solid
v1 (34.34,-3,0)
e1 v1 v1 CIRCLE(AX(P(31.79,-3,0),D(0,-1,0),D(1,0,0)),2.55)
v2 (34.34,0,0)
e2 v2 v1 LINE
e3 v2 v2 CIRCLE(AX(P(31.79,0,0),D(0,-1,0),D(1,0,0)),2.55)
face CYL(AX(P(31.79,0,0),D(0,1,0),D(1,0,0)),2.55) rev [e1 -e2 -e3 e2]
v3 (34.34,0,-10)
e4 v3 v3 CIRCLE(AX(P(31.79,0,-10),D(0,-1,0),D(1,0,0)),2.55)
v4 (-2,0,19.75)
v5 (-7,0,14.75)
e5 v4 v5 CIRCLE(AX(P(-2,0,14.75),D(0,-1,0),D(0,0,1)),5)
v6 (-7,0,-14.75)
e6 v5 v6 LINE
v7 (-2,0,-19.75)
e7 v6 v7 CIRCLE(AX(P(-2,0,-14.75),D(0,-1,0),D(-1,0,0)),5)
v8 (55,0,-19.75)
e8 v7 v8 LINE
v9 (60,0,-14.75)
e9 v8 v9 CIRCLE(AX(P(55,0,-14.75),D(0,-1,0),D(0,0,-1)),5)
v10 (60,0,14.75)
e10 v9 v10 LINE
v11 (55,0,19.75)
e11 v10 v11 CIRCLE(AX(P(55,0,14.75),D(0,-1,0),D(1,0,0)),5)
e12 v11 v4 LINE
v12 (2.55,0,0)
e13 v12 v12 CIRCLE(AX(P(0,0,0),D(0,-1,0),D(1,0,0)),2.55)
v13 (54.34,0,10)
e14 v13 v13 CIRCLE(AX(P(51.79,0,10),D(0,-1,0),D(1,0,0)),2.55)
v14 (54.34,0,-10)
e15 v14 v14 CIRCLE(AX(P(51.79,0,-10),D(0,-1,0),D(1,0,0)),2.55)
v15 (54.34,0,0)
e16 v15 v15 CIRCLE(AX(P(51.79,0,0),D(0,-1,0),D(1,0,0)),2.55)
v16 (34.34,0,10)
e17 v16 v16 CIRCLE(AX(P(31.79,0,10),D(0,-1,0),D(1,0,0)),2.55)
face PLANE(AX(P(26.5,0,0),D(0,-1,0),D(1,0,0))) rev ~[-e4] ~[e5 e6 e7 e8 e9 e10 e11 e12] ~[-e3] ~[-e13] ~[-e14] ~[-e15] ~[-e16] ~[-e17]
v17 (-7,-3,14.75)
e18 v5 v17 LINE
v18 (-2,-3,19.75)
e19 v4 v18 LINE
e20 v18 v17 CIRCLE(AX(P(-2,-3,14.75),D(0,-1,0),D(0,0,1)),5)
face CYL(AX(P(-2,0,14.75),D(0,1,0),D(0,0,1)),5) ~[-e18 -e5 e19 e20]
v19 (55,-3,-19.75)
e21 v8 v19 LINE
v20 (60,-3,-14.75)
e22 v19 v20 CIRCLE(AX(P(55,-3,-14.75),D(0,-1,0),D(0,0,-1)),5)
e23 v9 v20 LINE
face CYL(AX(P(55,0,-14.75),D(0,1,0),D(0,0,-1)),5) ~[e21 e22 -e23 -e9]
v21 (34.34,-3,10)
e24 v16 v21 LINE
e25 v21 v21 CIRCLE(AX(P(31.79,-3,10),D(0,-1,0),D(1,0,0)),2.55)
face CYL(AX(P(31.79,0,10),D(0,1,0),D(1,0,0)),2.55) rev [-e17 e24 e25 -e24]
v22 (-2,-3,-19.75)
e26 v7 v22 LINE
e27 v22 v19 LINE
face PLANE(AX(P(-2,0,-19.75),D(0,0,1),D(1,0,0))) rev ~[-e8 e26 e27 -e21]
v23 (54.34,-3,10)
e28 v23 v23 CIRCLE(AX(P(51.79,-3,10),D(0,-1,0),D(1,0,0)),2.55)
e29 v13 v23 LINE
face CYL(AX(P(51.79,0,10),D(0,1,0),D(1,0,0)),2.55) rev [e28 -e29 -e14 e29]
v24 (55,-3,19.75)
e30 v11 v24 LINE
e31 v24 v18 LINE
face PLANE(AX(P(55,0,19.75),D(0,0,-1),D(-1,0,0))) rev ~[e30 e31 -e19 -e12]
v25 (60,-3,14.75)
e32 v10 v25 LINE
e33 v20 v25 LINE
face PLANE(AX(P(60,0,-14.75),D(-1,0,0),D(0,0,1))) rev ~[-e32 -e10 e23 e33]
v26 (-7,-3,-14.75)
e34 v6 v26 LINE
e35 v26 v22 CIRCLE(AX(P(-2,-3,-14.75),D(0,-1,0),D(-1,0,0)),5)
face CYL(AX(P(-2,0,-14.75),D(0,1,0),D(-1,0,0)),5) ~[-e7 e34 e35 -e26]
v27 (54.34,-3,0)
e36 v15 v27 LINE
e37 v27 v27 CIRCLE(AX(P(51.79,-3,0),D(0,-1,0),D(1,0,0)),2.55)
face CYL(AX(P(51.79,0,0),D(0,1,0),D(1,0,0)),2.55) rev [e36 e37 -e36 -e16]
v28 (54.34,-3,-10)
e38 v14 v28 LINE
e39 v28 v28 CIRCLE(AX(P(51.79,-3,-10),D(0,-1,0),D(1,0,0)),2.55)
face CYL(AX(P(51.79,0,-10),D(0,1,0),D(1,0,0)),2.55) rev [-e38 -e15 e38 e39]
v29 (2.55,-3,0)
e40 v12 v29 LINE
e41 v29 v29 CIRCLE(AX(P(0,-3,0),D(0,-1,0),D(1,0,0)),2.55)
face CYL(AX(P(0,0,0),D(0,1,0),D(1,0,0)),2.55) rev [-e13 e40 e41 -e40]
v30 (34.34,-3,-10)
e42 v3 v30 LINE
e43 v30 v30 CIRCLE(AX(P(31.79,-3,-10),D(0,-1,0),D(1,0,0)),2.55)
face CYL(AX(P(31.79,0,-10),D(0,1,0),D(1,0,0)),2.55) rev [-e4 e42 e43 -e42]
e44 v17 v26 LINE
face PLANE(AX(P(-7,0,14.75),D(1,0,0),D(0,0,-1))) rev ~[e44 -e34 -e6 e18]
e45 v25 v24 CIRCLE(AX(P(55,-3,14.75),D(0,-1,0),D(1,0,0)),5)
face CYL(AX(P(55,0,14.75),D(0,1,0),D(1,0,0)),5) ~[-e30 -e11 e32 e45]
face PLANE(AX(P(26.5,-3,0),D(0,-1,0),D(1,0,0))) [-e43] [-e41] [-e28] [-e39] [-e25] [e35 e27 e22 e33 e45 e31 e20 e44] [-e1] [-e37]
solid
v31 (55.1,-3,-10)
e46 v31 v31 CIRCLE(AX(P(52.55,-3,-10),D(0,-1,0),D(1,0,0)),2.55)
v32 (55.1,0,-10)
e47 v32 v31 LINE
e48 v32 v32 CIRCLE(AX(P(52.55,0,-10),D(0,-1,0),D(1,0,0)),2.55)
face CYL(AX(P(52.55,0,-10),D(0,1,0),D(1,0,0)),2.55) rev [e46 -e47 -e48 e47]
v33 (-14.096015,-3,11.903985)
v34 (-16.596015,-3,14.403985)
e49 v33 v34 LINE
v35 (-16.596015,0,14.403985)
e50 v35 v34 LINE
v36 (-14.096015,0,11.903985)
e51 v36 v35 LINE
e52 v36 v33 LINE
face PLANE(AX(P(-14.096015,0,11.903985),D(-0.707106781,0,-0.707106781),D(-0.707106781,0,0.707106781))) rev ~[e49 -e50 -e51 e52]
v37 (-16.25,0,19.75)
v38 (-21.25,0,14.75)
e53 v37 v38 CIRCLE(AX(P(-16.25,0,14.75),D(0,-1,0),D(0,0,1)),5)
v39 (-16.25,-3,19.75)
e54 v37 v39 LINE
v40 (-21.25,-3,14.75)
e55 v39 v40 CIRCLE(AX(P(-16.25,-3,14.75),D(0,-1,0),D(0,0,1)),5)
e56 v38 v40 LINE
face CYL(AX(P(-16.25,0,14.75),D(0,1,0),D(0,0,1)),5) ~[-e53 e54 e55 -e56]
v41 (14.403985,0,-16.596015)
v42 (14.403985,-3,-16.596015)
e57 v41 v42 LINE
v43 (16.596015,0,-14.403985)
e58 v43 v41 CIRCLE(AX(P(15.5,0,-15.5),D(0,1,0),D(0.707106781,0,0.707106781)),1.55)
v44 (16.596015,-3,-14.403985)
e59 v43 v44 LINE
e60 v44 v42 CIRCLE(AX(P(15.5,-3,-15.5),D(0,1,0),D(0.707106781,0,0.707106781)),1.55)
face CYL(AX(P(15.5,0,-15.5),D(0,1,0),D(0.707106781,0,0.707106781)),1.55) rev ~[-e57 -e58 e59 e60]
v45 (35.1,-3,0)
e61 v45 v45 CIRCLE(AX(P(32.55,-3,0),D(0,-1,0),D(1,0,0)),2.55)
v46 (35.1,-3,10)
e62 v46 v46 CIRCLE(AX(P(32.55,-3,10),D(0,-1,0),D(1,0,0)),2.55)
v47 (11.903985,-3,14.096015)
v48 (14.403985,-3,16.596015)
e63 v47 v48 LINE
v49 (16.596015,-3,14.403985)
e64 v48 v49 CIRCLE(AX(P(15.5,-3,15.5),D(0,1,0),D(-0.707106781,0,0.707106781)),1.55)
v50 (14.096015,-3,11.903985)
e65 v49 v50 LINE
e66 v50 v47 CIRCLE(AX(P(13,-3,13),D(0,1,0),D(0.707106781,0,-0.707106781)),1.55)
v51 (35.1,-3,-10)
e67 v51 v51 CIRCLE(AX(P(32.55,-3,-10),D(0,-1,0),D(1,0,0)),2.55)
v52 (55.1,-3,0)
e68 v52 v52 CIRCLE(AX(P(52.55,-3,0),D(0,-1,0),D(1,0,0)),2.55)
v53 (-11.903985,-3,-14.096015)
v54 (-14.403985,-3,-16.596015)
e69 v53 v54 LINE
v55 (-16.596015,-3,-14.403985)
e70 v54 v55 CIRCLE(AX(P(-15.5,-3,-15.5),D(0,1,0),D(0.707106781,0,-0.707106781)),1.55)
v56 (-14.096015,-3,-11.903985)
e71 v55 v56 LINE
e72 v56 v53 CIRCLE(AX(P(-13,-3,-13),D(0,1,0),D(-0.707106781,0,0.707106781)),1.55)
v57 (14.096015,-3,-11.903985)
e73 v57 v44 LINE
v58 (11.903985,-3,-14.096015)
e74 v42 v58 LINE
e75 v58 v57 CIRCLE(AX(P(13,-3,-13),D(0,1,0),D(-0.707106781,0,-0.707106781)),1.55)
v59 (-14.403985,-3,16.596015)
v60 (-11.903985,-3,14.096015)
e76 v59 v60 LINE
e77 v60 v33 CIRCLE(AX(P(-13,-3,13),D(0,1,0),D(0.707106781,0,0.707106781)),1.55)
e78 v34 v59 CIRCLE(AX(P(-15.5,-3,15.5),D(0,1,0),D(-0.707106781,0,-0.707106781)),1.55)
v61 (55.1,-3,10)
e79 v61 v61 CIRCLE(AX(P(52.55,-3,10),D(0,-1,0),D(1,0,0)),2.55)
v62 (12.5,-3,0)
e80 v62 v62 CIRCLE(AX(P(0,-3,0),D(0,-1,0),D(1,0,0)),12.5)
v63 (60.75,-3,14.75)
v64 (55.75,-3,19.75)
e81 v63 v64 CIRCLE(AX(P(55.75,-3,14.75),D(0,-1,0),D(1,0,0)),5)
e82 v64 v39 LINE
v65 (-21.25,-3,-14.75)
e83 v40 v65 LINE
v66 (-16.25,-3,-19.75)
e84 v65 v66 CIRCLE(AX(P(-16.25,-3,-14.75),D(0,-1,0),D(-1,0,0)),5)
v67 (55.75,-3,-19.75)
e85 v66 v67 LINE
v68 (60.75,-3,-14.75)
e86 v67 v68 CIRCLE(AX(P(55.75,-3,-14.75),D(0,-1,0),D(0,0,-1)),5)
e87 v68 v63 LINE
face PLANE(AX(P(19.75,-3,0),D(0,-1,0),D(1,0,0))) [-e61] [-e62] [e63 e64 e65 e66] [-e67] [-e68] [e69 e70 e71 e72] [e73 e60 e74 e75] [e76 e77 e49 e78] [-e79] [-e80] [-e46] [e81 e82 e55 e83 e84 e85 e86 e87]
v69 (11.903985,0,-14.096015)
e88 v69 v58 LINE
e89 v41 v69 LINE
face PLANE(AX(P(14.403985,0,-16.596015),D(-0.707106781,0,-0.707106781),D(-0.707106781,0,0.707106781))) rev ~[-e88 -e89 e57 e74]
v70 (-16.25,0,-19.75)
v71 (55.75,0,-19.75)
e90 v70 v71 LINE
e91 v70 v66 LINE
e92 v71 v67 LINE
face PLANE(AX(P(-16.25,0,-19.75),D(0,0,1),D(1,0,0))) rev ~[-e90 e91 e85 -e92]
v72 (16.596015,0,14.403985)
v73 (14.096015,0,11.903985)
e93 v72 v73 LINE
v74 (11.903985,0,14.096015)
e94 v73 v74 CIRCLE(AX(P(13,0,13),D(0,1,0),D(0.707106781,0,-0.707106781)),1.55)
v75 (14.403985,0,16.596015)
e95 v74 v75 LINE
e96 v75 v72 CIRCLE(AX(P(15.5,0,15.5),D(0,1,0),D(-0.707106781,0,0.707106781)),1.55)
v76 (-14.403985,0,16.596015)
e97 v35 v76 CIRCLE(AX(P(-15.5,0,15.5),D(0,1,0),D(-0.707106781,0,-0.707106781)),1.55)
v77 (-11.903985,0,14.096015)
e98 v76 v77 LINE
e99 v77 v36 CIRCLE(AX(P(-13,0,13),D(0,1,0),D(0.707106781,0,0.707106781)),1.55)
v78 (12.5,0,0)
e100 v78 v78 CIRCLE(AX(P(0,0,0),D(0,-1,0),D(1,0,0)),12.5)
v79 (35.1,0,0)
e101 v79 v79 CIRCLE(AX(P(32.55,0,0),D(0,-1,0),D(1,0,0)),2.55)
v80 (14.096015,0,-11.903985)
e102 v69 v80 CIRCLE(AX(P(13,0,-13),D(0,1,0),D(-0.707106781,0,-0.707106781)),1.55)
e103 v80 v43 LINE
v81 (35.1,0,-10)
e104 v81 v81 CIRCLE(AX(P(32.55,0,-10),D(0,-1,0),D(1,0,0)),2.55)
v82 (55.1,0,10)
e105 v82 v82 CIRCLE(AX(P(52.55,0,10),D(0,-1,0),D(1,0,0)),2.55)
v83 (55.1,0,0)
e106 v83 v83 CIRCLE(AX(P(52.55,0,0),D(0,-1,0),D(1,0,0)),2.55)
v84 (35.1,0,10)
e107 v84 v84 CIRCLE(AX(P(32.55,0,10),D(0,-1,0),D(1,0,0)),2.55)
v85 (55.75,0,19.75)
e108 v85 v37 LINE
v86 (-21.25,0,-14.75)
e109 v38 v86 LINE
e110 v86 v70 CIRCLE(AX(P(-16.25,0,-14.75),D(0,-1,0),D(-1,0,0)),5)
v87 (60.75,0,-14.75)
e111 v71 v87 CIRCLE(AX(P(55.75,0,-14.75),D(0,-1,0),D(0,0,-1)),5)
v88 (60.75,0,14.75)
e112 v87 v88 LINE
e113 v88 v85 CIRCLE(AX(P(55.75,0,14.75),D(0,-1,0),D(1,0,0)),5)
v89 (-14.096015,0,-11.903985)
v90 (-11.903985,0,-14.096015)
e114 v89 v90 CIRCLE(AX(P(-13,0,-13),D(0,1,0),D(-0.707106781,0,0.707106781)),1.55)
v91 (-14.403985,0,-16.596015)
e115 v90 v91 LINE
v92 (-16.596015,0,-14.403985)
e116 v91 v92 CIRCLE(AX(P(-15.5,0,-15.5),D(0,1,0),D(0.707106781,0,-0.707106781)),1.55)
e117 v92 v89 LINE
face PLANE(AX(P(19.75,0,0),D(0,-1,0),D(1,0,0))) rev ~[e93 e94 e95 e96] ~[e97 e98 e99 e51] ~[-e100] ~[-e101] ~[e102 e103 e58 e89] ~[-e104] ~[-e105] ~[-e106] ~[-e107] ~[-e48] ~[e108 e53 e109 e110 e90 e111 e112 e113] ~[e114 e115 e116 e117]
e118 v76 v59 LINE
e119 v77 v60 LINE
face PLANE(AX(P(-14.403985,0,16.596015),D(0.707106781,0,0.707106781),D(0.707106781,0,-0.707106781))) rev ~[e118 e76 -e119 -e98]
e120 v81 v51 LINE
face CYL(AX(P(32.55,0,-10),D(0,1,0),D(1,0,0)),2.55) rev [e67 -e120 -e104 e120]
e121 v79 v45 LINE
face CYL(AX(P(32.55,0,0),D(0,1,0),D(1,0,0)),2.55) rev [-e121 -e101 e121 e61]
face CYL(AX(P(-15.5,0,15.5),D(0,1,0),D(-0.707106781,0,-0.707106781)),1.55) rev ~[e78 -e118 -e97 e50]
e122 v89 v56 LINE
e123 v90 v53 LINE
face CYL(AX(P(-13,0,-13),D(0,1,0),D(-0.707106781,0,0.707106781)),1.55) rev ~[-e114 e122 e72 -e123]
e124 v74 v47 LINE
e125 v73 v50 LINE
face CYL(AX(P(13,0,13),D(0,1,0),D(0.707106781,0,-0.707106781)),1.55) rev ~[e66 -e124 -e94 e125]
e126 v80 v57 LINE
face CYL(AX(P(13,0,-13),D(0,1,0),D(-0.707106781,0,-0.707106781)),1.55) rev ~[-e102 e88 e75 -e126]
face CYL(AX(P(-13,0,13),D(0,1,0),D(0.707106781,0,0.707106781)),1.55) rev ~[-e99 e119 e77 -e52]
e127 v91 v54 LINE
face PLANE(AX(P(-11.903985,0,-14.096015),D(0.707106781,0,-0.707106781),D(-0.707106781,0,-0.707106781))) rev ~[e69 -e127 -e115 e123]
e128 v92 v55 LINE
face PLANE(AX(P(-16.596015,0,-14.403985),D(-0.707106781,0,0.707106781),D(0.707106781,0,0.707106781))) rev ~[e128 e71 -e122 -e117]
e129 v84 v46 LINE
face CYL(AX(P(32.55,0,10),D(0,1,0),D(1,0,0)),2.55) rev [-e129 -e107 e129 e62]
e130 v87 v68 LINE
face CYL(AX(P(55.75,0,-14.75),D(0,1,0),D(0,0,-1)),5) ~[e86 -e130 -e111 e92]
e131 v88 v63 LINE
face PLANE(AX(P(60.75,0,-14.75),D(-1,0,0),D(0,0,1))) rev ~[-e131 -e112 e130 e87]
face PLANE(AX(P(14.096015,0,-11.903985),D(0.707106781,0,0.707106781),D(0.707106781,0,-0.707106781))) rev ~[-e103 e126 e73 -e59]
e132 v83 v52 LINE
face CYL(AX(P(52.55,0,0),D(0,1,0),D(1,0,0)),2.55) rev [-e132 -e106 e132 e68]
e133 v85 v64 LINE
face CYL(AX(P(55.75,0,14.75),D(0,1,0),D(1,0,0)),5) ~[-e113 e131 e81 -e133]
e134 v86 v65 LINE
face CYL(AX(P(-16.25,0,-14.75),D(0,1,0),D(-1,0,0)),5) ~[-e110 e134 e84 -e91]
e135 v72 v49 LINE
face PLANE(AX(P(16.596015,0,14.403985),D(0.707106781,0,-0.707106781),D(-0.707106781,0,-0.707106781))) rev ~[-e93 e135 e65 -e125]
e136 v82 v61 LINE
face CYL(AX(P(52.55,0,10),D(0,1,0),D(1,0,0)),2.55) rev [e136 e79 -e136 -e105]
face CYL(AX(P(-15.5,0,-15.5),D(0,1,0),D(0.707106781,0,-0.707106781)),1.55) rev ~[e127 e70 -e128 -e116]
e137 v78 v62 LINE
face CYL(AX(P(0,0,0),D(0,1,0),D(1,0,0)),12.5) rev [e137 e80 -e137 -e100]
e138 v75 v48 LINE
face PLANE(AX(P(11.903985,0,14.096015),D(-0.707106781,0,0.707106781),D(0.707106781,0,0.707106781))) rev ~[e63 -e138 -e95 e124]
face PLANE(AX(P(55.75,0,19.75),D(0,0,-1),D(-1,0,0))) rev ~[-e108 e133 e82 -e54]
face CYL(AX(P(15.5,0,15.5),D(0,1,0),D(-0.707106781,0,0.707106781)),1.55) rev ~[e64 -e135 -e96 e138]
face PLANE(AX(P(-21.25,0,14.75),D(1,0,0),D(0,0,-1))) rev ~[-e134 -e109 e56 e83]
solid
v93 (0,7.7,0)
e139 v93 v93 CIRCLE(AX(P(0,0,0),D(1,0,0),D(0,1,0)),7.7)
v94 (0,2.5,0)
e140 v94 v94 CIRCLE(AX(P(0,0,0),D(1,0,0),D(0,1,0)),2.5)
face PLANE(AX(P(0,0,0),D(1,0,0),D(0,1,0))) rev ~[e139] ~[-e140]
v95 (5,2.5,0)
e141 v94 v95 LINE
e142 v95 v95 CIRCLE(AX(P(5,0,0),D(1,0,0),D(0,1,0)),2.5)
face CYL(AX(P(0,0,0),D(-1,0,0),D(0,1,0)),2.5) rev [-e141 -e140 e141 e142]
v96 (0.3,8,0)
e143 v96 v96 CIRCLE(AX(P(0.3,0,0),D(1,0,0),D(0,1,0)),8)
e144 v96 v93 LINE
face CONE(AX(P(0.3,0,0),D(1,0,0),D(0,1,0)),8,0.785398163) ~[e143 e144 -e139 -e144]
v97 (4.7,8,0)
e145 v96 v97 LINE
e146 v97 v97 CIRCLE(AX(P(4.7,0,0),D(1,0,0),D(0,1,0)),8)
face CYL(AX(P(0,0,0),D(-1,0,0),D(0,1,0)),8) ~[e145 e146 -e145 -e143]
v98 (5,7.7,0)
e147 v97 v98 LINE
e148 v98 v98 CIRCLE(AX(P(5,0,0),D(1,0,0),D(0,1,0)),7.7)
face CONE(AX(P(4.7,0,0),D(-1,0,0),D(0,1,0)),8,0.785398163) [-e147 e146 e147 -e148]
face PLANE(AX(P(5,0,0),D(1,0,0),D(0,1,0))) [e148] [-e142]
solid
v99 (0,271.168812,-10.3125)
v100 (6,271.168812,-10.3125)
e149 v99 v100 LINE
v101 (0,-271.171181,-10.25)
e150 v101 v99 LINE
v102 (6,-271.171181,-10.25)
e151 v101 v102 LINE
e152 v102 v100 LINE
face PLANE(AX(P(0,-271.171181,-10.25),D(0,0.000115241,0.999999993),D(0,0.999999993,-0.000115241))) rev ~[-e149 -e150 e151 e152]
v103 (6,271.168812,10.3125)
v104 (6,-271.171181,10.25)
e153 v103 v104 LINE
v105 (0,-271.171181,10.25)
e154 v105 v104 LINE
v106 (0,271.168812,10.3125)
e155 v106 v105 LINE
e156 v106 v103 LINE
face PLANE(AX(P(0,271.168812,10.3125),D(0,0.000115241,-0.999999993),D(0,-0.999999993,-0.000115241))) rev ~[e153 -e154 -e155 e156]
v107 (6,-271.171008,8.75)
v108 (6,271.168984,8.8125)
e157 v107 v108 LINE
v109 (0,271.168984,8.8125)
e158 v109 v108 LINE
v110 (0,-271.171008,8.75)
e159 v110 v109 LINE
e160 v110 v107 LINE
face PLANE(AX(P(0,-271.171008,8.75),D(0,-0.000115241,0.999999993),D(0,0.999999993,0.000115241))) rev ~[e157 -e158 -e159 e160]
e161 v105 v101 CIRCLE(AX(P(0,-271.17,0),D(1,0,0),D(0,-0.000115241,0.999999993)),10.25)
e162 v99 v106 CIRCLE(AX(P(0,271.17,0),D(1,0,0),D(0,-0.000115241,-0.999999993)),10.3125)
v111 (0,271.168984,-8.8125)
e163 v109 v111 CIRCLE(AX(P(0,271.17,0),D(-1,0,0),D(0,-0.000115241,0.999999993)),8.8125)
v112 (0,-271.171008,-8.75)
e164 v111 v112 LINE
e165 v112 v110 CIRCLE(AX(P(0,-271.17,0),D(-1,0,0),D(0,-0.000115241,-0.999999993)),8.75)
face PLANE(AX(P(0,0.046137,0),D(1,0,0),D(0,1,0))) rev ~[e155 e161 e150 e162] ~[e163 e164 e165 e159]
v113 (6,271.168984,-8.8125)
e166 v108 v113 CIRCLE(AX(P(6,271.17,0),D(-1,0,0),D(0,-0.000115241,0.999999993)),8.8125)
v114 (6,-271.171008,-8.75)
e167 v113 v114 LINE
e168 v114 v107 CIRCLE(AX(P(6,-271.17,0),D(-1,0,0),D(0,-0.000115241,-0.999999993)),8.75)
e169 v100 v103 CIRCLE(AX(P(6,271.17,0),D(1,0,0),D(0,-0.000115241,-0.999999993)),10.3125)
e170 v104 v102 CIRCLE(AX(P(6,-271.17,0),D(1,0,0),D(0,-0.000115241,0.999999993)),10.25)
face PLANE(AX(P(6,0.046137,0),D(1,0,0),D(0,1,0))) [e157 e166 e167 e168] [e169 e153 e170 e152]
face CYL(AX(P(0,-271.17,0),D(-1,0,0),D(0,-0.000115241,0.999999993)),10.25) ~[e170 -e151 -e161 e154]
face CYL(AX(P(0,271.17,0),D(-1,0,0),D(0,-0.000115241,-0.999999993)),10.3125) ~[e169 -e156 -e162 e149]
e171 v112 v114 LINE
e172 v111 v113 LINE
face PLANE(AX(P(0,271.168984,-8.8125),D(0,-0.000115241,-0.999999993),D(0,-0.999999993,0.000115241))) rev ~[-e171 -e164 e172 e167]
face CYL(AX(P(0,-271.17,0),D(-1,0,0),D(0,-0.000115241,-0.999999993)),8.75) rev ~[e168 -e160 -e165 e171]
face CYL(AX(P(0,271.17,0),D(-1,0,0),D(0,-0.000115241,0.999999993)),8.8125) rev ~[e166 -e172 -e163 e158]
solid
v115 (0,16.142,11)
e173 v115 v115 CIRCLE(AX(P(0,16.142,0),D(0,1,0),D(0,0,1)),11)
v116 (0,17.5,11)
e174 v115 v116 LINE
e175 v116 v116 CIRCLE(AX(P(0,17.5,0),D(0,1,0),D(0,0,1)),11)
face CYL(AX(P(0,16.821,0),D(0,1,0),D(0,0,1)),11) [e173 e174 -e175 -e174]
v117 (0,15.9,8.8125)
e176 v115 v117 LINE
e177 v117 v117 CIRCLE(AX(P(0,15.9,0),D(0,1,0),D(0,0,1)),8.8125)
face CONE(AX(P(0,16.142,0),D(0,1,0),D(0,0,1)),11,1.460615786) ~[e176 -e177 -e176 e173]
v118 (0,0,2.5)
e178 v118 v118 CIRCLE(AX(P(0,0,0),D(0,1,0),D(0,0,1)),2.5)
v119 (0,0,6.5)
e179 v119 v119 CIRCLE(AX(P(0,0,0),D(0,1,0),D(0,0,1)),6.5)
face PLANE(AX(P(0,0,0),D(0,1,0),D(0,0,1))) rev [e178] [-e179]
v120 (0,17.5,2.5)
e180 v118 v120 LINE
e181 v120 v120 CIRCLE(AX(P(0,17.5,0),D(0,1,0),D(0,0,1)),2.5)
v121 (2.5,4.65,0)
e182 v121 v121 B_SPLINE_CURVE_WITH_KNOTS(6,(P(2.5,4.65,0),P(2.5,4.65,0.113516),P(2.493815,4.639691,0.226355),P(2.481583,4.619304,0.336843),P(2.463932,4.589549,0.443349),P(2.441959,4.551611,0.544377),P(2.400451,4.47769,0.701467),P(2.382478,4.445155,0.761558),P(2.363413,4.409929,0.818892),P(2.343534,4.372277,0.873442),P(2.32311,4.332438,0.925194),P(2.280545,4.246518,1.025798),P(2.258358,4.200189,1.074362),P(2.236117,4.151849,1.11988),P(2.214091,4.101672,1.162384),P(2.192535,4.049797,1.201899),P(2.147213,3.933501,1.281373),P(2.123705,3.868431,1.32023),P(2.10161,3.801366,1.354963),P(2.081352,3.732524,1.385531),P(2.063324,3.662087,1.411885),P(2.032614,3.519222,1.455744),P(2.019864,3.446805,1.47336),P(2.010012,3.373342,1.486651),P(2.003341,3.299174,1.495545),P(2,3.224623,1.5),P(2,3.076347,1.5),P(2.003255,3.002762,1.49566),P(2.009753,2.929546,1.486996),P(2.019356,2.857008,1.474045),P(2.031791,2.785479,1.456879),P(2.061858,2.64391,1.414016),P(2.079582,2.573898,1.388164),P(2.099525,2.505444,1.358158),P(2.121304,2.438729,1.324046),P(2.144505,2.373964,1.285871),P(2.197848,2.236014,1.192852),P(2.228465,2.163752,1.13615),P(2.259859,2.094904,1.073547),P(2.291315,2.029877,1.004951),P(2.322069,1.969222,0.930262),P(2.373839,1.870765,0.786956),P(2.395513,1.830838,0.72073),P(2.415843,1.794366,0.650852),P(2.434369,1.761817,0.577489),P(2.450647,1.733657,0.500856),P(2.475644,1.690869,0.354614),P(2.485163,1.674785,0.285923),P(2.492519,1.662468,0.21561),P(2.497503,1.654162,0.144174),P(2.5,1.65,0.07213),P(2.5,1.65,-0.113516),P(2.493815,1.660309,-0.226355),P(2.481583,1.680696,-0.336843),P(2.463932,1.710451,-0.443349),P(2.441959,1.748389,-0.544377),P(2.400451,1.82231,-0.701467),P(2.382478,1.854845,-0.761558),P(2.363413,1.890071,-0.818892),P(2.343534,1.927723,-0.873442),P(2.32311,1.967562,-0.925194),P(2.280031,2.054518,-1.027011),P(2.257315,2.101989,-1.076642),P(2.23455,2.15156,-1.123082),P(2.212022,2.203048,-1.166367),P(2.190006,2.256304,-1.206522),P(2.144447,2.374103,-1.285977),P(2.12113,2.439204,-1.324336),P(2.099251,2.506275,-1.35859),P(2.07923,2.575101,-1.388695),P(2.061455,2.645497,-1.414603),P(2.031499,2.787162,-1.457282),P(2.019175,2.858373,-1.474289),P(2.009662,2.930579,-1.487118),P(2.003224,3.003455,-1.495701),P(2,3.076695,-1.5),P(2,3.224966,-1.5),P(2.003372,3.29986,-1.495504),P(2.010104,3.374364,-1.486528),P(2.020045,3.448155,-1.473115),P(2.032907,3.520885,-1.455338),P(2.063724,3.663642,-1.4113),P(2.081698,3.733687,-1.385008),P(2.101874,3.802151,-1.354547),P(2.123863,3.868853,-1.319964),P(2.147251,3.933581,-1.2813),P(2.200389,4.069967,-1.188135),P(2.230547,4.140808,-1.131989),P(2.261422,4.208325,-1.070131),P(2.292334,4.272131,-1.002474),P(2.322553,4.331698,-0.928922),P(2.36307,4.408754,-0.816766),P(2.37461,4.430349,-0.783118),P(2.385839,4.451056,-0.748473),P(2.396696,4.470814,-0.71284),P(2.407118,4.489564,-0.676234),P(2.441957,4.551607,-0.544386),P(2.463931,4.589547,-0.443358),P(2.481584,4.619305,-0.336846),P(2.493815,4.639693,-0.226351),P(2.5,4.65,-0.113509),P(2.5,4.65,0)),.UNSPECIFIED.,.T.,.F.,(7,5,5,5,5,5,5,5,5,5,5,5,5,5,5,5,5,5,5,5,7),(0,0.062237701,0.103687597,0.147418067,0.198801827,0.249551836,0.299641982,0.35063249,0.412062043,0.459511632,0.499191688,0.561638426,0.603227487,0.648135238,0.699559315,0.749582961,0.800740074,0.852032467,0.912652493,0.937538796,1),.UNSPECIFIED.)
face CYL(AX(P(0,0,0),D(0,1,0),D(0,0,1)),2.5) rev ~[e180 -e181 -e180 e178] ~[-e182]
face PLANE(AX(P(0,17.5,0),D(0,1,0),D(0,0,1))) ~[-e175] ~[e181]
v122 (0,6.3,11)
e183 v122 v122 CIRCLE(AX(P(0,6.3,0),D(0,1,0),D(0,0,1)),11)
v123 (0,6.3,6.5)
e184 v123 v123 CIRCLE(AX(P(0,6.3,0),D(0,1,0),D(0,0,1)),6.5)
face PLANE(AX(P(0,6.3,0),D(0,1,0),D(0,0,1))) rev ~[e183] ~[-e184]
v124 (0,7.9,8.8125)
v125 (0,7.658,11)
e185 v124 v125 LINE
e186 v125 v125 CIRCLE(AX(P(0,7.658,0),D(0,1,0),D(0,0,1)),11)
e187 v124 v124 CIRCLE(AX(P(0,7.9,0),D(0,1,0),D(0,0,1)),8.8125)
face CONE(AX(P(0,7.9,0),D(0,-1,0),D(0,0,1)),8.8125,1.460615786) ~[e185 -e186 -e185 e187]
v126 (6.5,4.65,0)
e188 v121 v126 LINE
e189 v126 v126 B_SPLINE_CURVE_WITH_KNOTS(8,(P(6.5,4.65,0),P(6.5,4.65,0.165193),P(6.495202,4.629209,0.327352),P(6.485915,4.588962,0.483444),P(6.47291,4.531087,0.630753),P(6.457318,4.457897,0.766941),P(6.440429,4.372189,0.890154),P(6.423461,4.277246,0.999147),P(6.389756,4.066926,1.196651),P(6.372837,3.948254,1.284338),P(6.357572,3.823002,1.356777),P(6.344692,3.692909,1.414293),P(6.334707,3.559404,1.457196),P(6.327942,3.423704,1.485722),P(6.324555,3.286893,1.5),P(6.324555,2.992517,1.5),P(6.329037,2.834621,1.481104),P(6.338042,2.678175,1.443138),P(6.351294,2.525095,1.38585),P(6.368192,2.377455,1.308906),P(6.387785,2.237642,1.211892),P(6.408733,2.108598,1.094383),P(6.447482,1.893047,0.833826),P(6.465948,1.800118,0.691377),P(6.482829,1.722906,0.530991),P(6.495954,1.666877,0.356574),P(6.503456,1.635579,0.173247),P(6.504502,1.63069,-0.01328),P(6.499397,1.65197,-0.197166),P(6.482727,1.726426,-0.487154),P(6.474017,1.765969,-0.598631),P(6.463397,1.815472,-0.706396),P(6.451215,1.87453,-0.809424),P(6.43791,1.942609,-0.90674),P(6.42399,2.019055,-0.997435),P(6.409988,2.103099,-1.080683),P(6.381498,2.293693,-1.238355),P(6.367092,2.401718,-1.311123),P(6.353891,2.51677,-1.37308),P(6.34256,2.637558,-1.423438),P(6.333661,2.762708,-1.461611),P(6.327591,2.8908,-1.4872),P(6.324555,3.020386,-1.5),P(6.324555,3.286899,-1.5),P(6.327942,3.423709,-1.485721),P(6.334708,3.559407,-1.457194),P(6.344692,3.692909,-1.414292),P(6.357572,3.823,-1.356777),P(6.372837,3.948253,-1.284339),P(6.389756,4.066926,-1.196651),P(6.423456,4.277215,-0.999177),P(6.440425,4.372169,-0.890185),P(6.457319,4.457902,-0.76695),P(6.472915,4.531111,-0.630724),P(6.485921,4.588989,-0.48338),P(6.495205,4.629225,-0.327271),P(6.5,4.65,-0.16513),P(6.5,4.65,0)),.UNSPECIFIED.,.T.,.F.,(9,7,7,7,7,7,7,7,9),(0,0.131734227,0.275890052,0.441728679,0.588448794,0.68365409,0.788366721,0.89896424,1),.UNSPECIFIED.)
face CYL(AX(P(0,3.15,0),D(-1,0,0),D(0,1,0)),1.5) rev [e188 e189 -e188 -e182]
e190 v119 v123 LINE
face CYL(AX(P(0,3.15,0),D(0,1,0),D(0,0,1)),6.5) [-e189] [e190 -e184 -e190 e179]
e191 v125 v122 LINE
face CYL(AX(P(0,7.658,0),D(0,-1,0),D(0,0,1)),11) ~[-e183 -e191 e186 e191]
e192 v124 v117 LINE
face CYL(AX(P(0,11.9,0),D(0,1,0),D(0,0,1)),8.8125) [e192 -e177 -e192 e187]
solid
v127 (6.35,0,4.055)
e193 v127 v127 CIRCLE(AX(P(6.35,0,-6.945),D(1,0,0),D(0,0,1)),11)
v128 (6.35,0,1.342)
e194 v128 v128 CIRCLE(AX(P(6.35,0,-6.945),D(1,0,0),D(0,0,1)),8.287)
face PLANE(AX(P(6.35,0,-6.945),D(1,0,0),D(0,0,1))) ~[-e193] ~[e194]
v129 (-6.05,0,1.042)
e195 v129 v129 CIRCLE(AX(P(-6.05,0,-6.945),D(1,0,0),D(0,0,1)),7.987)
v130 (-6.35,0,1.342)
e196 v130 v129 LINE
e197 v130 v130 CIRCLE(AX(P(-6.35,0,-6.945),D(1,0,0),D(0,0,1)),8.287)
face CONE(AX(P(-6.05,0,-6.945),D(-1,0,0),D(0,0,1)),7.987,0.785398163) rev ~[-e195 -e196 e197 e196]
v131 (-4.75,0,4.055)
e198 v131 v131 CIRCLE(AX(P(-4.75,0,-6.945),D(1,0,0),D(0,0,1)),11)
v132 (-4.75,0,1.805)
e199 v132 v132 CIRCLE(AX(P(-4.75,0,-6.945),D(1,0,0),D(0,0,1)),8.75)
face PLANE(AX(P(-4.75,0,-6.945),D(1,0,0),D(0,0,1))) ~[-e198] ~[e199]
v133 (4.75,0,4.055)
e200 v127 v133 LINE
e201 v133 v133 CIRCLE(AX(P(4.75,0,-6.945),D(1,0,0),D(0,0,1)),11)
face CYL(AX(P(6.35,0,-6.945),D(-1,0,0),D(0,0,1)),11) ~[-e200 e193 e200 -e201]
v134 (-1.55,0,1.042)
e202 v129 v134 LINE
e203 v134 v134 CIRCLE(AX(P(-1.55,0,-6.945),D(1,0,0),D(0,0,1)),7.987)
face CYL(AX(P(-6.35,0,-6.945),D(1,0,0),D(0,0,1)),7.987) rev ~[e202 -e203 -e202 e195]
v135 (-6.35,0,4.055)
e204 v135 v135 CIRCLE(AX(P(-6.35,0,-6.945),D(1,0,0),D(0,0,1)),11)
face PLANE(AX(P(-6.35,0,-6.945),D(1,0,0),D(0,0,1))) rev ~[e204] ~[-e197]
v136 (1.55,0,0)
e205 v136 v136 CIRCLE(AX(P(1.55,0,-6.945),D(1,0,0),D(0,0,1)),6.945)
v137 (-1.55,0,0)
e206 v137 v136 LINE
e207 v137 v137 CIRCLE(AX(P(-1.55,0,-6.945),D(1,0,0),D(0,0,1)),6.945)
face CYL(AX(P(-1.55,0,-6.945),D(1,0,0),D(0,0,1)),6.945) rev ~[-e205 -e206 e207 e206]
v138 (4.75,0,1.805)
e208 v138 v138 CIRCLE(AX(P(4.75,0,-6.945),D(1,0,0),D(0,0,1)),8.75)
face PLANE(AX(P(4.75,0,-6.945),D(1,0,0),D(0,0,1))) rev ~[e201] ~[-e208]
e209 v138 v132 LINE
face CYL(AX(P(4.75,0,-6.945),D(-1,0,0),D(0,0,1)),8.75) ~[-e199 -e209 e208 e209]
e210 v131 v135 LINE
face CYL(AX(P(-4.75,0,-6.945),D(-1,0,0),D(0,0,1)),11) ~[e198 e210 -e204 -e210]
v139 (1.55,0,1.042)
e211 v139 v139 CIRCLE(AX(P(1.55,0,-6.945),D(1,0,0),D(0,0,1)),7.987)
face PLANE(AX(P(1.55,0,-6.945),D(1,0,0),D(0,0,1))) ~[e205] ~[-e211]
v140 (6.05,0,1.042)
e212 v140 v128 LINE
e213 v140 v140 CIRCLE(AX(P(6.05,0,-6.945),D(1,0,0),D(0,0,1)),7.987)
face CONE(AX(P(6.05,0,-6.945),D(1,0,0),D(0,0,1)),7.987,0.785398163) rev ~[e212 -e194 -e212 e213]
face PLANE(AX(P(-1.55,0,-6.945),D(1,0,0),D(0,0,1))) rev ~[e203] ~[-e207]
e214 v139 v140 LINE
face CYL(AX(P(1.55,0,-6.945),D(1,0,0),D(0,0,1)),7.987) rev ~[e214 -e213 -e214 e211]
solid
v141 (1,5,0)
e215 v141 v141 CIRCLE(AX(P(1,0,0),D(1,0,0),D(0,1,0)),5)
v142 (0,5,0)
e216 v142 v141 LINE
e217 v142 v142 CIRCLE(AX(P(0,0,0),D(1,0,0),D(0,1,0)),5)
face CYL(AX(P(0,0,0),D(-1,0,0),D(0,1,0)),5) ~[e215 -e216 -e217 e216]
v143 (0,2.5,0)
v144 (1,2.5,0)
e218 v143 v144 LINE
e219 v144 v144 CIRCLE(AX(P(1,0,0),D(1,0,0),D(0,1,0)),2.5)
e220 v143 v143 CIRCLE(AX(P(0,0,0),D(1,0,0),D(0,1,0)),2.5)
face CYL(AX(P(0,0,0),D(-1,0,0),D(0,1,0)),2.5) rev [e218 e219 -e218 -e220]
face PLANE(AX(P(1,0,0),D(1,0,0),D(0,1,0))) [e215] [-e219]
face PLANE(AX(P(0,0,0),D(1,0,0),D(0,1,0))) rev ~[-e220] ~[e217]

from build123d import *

# Parameters (mm, degrees)
F0_R      = 2.55
F0_R_2    = 12.5
F1_DEPTH  = 3
F2_R      = 2.55
F3_DEPTH  = 3
F6_SIZE   = 0.3
F7_R      = 8
F7_R_2    = 5
F7_R_3    = 2.5
F8_DEPTH  = 5
F9_SIZE   = 0.3
F10_DEPTH = 1
F12_DEPTH = 6
F13_W     = 6.3
F13_H     = 4
F13_W_2   = 8
F13_H_2   = 6.3125
F13_W_3   = 1.358
F13_H_3   = 8.5
F15_DEPTH = 60.751


with BuildPart() as f1:
    # F0 (on Front) → F1 (new body)
    with BuildSketch(Plane.XZ):
        with BuildLine():
            Line((55.75, 19.75), (-16.25, 19.75))
            ThreePointArc((-16.25, 19.75), (-19.7855339059, 18.2855339059), (-21.25, 14.75))
            Line((-21.25, 14.75), (-21.25, -14.75))
            ThreePointArc((-21.25, -14.75), (-19.7855339059, -18.2855339059), (-16.25, -19.75))
            Line((-16.25, -19.75), (55.75, -19.75))
            ThreePointArc((55.75, -19.75), (59.2855339059, -18.2855339059), (60.75, -14.75))
            Line((60.75, -14.75), (60.75, 14.75))
            ThreePointArc((60.75, 14.75), (59.2855339059, 18.2855339059), (55.75, 19.75))
        make_face()
        with BuildLine():
            ThreePointArc((-14.4039845229, -16.5960154771), (-16.5960154771, -16.5960154771), (-16.5960154771, -14.4039845229))
            Line((-16.5960154771, -14.4039845229), (-14.0960154771, -11.9039845229))
            ThreePointArc((-14.0960154771, -11.9039845229), (-11.9039845229, -11.9039845229), (-11.9039845229, -14.0960154771))
            Line((-11.9039845229, -14.0960154771), (-14.4039845229, -16.5960154771))
        make_face(mode=Mode.SUBTRACT)
        with BuildLine():
            ThreePointArc((16.5960154771, -14.4039845229), (16.5960154771, -16.5960154771), (14.4039845229, -16.5960154771))
            Line((14.4039845229, -16.5960154771), (11.9039845229, -14.0960154771))
            ThreePointArc((11.9039845229, -14.0960154771), (11.9039845229, -11.9039845229), (14.0960154771, -11.9039845229))
            Line((14.0960154771, -11.9039845229), (16.5960154771, -14.4039845229))
        make_face(mode=Mode.SUBTRACT)
        with Locations((32.55, -10)):
            Circle(F0_R, mode=Mode.SUBTRACT)
        with Locations((52.55, -10)):
            Circle(F0_R, mode=Mode.SUBTRACT)
        Circle(F0_R_2, mode=Mode.SUBTRACT)
        with BuildLine():
            Line((-14.0960154771, 11.9039845229), (-16.5960154771, 14.4039845229))
            ThreePointArc((-16.5960154771, 14.4039845229), (-16.5960154771, 16.5960154771), (-14.4039845229, 16.5960154771))
            Line((-14.4039845229, 16.5960154771), (-11.9039845229, 14.0960154771))
            ThreePointArc((-11.9039845229, 14.0960154771), (-11.9039845229, 11.9039845229), (-14.0960154771, 11.9039845229))
        make_face(mode=Mode.SUBTRACT)
        with BuildLine():
            ThreePointArc((14.4039845229, 16.5960154771), (16.5960154771, 16.5960154771), (16.5960154771, 14.4039845229))
            Line((16.5960154771, 14.4039845229), (14.0960154771, 11.9039845229))
            ThreePointArc((14.0960154771, 11.9039845229), (11.9039845229, 11.9039845229), (11.9039845229, 14.0960154771))
            Line((11.9039845229, 14.0960154771), (14.4039845229, 16.5960154771))
        make_face(mode=Mode.SUBTRACT)
        with Locations((32.55, 0)):
            Circle(F0_R, mode=Mode.SUBTRACT)
        with Locations((52.55, 0)):
            Circle(F0_R, mode=Mode.SUBTRACT)
        with Locations((32.55, 10)):
            Circle(F0_R, mode=Mode.SUBTRACT)
        with Locations((52.55, 10)):
            Circle(F0_R, mode=Mode.SUBTRACT)
    extrude(amount=F1_DEPTH)


with BuildPart() as f3:
    # F2 (on Front) → F3 (new body)
    with BuildSketch(Plane.XZ):
        with BuildLine():
            Line((55, 19.75), (-2, 19.75))
            ThreePointArc((-2, 19.75), (-5.5355339059, 18.2855339059), (-7, 14.75))
            Line((-7, 14.75), (-7, -14.75))
            ThreePointArc((-7, -14.75), (-5.5355339059, -18.2855339059), (-2, -19.75))
            Line((-2, -19.75), (55, -19.75))
            ThreePointArc((55, -19.75), (58.5355339059, -18.2855339059), (60, -14.75))
            Line((60, -14.75), (60, 14.75))
            ThreePointArc((60, 14.75), (58.5355339059, 18.2855339059), (55, 19.75))
        make_face()
        with Locations((31.79, -10)):
            Circle(F2_R, mode=Mode.SUBTRACT)
        with Locations((51.79, -10)):
            Circle(F2_R, mode=Mode.SUBTRACT)
        Circle(F2_R, mode=Mode.SUBTRACT)
        with Locations((31.79, 0)):
            Circle(F2_R, mode=Mode.SUBTRACT)
        with Locations((51.79, 0)):
            Circle(F2_R, mode=Mode.SUBTRACT)
        with Locations((31.79, 10)):
            Circle(F2_R, mode=Mode.SUBTRACT)
        with Locations((51.79, 10)):
            Circle(F2_R, mode=Mode.SUBTRACT)
    extrude(amount=F3_DEPTH)


with BuildPart() as f5:
    # F4 (on Front) → F5 (revolve)
    with BuildSketch(Plane.XZ):
        Polygon((-6.35, 4.055), (-6.35, 1.042), (-1.55, 1.042), (-1.55, 0), (1.55, 0), (1.55, 1.042), (6.35, 1.042), (6.35, 4.055), (4.75, 4.055), (4.75, 1.805), (-4.75, 1.805), (-4.75, 4.055), align=None)
    revolve(axis=Axis((0, 0, -6.945), (1, 0, 0)))

    # F6
    f6_edges = [f5.edges().sort_by_distance(p)[0] for p in [
        (-6.35, 0, -14.932),
        (6.35, 0, -14.932),
    ]]
    chamfer(f6_edges, length=F6_SIZE)


with BuildPart() as f8:
    # F7 (on Right) → F8 (new body)
    with BuildSketch(Plane.YZ):
        Circle(F7_R)
        Circle(F7_R_2, mode=Mode.SUBTRACT)
        Circle(F7_R_2)
        Circle(F7_R_3, mode=Mode.SUBTRACT)
    extrude(amount=F8_DEPTH)

    # F9
    f9_edges = [f8.edges().sort_by_distance(p)[0] for p in [
        (5, -8, 0),
        (0, -8, 0),
    ]]
    chamfer(f9_edges, length=F9_SIZE)


with BuildPart() as f10:
    # F7 (on Right) → F10 (new body)
    with BuildSketch(Plane.YZ):
        Circle(F7_R_2)
        Circle(F7_R_3, mode=Mode.SUBTRACT)
    extrude(amount=F10_DEPTH)


with BuildPart() as f12:
    # F11 (on Right) → F12 (new body)
    with BuildSketch(Plane.YZ):
        with BuildLine():
            Line((271.1688115735, 10.3124999315), (-271.171181224, 10.2499999319))
            ThreePointArc((-271.171181224, 10.2499999319), (-281.42, 0), (-271.171181224, -10.2499999319))
            Line((-271.171181224, -10.2499999319), (271.1688115735, -10.3124999315))
            ThreePointArc((271.1688115735, -10.3124999315), (281.4825, 0), (271.1688115735, 10.3124999315))
        make_face()
        with BuildLine():
            ThreePointArc((-271.1710083619, -8.7499999419), (-279.92, 0), (-271.1710083619, 8.7499999419))
            Line((-271.1710083619, 8.7499999419), (271.1689844355, 8.8124999415))
            ThreePointArc((271.1689844355, 8.8124999415), (279.9825, 0), (271.1689844355, -8.8124999415))
            Line((271.1689844355, -8.8124999415), (-271.1710083619, -8.7499999419))
        make_face(mode=Mode.SUBTRACT)
    extrude(amount=F12_DEPTH)


with BuildPart() as f14:
    # F13 (on Right) → F14 (revolve)
    with BuildSketch(Plane.YZ):
        with Locations((3.15, 4.5)):
            Rectangle(F13_W, F13_H)
        Polygon((6.3, 11), (6.3, 6.5), (6.3, 2.5), (7.658, 2.5), (7.658, 11), align=None)
        Polygon((7.658, 11), (7.658, 2.5), (7.9, 2.5), (7.9, 8.8125), align=None)
        with Locations((11.9, 5.65625)):
            Rectangle(F13_W_2, F13_H_2)
        Polygon((15.9, 8.8125), (15.9, 2.5), (16.142, 2.5), (16.142, 11), align=None)
        with Locations((16.821, 6.75)):
            Rectangle(F13_W_3, F13_H_3)
    revolve(axis=Axis((0, 8.75, 0), (0, 1, 0)))

    # F13 (on Right) → F15 (cut, through all)
    with BuildSketch(Plane.YZ):
        with BuildLine():
            Line((4.65, 0), (1.65, 0))
            ThreePointArc((1.65, 0), (3.15, -1.5), (4.65, 0))
        make_face()
        with BuildLine():
            ThreePointArc((4.65, 0), (3.15, 1.5), (1.65, 0))
            Line((1.65, 0), (4.65, 0))
        make_face()
    extrude(amount=F15_DEPTH, mode=Mode.SUBTRACT)


solid = Compound([f1.part, f3.part, f5.part, f8.part, f10.part, f12.part, f14.part])
